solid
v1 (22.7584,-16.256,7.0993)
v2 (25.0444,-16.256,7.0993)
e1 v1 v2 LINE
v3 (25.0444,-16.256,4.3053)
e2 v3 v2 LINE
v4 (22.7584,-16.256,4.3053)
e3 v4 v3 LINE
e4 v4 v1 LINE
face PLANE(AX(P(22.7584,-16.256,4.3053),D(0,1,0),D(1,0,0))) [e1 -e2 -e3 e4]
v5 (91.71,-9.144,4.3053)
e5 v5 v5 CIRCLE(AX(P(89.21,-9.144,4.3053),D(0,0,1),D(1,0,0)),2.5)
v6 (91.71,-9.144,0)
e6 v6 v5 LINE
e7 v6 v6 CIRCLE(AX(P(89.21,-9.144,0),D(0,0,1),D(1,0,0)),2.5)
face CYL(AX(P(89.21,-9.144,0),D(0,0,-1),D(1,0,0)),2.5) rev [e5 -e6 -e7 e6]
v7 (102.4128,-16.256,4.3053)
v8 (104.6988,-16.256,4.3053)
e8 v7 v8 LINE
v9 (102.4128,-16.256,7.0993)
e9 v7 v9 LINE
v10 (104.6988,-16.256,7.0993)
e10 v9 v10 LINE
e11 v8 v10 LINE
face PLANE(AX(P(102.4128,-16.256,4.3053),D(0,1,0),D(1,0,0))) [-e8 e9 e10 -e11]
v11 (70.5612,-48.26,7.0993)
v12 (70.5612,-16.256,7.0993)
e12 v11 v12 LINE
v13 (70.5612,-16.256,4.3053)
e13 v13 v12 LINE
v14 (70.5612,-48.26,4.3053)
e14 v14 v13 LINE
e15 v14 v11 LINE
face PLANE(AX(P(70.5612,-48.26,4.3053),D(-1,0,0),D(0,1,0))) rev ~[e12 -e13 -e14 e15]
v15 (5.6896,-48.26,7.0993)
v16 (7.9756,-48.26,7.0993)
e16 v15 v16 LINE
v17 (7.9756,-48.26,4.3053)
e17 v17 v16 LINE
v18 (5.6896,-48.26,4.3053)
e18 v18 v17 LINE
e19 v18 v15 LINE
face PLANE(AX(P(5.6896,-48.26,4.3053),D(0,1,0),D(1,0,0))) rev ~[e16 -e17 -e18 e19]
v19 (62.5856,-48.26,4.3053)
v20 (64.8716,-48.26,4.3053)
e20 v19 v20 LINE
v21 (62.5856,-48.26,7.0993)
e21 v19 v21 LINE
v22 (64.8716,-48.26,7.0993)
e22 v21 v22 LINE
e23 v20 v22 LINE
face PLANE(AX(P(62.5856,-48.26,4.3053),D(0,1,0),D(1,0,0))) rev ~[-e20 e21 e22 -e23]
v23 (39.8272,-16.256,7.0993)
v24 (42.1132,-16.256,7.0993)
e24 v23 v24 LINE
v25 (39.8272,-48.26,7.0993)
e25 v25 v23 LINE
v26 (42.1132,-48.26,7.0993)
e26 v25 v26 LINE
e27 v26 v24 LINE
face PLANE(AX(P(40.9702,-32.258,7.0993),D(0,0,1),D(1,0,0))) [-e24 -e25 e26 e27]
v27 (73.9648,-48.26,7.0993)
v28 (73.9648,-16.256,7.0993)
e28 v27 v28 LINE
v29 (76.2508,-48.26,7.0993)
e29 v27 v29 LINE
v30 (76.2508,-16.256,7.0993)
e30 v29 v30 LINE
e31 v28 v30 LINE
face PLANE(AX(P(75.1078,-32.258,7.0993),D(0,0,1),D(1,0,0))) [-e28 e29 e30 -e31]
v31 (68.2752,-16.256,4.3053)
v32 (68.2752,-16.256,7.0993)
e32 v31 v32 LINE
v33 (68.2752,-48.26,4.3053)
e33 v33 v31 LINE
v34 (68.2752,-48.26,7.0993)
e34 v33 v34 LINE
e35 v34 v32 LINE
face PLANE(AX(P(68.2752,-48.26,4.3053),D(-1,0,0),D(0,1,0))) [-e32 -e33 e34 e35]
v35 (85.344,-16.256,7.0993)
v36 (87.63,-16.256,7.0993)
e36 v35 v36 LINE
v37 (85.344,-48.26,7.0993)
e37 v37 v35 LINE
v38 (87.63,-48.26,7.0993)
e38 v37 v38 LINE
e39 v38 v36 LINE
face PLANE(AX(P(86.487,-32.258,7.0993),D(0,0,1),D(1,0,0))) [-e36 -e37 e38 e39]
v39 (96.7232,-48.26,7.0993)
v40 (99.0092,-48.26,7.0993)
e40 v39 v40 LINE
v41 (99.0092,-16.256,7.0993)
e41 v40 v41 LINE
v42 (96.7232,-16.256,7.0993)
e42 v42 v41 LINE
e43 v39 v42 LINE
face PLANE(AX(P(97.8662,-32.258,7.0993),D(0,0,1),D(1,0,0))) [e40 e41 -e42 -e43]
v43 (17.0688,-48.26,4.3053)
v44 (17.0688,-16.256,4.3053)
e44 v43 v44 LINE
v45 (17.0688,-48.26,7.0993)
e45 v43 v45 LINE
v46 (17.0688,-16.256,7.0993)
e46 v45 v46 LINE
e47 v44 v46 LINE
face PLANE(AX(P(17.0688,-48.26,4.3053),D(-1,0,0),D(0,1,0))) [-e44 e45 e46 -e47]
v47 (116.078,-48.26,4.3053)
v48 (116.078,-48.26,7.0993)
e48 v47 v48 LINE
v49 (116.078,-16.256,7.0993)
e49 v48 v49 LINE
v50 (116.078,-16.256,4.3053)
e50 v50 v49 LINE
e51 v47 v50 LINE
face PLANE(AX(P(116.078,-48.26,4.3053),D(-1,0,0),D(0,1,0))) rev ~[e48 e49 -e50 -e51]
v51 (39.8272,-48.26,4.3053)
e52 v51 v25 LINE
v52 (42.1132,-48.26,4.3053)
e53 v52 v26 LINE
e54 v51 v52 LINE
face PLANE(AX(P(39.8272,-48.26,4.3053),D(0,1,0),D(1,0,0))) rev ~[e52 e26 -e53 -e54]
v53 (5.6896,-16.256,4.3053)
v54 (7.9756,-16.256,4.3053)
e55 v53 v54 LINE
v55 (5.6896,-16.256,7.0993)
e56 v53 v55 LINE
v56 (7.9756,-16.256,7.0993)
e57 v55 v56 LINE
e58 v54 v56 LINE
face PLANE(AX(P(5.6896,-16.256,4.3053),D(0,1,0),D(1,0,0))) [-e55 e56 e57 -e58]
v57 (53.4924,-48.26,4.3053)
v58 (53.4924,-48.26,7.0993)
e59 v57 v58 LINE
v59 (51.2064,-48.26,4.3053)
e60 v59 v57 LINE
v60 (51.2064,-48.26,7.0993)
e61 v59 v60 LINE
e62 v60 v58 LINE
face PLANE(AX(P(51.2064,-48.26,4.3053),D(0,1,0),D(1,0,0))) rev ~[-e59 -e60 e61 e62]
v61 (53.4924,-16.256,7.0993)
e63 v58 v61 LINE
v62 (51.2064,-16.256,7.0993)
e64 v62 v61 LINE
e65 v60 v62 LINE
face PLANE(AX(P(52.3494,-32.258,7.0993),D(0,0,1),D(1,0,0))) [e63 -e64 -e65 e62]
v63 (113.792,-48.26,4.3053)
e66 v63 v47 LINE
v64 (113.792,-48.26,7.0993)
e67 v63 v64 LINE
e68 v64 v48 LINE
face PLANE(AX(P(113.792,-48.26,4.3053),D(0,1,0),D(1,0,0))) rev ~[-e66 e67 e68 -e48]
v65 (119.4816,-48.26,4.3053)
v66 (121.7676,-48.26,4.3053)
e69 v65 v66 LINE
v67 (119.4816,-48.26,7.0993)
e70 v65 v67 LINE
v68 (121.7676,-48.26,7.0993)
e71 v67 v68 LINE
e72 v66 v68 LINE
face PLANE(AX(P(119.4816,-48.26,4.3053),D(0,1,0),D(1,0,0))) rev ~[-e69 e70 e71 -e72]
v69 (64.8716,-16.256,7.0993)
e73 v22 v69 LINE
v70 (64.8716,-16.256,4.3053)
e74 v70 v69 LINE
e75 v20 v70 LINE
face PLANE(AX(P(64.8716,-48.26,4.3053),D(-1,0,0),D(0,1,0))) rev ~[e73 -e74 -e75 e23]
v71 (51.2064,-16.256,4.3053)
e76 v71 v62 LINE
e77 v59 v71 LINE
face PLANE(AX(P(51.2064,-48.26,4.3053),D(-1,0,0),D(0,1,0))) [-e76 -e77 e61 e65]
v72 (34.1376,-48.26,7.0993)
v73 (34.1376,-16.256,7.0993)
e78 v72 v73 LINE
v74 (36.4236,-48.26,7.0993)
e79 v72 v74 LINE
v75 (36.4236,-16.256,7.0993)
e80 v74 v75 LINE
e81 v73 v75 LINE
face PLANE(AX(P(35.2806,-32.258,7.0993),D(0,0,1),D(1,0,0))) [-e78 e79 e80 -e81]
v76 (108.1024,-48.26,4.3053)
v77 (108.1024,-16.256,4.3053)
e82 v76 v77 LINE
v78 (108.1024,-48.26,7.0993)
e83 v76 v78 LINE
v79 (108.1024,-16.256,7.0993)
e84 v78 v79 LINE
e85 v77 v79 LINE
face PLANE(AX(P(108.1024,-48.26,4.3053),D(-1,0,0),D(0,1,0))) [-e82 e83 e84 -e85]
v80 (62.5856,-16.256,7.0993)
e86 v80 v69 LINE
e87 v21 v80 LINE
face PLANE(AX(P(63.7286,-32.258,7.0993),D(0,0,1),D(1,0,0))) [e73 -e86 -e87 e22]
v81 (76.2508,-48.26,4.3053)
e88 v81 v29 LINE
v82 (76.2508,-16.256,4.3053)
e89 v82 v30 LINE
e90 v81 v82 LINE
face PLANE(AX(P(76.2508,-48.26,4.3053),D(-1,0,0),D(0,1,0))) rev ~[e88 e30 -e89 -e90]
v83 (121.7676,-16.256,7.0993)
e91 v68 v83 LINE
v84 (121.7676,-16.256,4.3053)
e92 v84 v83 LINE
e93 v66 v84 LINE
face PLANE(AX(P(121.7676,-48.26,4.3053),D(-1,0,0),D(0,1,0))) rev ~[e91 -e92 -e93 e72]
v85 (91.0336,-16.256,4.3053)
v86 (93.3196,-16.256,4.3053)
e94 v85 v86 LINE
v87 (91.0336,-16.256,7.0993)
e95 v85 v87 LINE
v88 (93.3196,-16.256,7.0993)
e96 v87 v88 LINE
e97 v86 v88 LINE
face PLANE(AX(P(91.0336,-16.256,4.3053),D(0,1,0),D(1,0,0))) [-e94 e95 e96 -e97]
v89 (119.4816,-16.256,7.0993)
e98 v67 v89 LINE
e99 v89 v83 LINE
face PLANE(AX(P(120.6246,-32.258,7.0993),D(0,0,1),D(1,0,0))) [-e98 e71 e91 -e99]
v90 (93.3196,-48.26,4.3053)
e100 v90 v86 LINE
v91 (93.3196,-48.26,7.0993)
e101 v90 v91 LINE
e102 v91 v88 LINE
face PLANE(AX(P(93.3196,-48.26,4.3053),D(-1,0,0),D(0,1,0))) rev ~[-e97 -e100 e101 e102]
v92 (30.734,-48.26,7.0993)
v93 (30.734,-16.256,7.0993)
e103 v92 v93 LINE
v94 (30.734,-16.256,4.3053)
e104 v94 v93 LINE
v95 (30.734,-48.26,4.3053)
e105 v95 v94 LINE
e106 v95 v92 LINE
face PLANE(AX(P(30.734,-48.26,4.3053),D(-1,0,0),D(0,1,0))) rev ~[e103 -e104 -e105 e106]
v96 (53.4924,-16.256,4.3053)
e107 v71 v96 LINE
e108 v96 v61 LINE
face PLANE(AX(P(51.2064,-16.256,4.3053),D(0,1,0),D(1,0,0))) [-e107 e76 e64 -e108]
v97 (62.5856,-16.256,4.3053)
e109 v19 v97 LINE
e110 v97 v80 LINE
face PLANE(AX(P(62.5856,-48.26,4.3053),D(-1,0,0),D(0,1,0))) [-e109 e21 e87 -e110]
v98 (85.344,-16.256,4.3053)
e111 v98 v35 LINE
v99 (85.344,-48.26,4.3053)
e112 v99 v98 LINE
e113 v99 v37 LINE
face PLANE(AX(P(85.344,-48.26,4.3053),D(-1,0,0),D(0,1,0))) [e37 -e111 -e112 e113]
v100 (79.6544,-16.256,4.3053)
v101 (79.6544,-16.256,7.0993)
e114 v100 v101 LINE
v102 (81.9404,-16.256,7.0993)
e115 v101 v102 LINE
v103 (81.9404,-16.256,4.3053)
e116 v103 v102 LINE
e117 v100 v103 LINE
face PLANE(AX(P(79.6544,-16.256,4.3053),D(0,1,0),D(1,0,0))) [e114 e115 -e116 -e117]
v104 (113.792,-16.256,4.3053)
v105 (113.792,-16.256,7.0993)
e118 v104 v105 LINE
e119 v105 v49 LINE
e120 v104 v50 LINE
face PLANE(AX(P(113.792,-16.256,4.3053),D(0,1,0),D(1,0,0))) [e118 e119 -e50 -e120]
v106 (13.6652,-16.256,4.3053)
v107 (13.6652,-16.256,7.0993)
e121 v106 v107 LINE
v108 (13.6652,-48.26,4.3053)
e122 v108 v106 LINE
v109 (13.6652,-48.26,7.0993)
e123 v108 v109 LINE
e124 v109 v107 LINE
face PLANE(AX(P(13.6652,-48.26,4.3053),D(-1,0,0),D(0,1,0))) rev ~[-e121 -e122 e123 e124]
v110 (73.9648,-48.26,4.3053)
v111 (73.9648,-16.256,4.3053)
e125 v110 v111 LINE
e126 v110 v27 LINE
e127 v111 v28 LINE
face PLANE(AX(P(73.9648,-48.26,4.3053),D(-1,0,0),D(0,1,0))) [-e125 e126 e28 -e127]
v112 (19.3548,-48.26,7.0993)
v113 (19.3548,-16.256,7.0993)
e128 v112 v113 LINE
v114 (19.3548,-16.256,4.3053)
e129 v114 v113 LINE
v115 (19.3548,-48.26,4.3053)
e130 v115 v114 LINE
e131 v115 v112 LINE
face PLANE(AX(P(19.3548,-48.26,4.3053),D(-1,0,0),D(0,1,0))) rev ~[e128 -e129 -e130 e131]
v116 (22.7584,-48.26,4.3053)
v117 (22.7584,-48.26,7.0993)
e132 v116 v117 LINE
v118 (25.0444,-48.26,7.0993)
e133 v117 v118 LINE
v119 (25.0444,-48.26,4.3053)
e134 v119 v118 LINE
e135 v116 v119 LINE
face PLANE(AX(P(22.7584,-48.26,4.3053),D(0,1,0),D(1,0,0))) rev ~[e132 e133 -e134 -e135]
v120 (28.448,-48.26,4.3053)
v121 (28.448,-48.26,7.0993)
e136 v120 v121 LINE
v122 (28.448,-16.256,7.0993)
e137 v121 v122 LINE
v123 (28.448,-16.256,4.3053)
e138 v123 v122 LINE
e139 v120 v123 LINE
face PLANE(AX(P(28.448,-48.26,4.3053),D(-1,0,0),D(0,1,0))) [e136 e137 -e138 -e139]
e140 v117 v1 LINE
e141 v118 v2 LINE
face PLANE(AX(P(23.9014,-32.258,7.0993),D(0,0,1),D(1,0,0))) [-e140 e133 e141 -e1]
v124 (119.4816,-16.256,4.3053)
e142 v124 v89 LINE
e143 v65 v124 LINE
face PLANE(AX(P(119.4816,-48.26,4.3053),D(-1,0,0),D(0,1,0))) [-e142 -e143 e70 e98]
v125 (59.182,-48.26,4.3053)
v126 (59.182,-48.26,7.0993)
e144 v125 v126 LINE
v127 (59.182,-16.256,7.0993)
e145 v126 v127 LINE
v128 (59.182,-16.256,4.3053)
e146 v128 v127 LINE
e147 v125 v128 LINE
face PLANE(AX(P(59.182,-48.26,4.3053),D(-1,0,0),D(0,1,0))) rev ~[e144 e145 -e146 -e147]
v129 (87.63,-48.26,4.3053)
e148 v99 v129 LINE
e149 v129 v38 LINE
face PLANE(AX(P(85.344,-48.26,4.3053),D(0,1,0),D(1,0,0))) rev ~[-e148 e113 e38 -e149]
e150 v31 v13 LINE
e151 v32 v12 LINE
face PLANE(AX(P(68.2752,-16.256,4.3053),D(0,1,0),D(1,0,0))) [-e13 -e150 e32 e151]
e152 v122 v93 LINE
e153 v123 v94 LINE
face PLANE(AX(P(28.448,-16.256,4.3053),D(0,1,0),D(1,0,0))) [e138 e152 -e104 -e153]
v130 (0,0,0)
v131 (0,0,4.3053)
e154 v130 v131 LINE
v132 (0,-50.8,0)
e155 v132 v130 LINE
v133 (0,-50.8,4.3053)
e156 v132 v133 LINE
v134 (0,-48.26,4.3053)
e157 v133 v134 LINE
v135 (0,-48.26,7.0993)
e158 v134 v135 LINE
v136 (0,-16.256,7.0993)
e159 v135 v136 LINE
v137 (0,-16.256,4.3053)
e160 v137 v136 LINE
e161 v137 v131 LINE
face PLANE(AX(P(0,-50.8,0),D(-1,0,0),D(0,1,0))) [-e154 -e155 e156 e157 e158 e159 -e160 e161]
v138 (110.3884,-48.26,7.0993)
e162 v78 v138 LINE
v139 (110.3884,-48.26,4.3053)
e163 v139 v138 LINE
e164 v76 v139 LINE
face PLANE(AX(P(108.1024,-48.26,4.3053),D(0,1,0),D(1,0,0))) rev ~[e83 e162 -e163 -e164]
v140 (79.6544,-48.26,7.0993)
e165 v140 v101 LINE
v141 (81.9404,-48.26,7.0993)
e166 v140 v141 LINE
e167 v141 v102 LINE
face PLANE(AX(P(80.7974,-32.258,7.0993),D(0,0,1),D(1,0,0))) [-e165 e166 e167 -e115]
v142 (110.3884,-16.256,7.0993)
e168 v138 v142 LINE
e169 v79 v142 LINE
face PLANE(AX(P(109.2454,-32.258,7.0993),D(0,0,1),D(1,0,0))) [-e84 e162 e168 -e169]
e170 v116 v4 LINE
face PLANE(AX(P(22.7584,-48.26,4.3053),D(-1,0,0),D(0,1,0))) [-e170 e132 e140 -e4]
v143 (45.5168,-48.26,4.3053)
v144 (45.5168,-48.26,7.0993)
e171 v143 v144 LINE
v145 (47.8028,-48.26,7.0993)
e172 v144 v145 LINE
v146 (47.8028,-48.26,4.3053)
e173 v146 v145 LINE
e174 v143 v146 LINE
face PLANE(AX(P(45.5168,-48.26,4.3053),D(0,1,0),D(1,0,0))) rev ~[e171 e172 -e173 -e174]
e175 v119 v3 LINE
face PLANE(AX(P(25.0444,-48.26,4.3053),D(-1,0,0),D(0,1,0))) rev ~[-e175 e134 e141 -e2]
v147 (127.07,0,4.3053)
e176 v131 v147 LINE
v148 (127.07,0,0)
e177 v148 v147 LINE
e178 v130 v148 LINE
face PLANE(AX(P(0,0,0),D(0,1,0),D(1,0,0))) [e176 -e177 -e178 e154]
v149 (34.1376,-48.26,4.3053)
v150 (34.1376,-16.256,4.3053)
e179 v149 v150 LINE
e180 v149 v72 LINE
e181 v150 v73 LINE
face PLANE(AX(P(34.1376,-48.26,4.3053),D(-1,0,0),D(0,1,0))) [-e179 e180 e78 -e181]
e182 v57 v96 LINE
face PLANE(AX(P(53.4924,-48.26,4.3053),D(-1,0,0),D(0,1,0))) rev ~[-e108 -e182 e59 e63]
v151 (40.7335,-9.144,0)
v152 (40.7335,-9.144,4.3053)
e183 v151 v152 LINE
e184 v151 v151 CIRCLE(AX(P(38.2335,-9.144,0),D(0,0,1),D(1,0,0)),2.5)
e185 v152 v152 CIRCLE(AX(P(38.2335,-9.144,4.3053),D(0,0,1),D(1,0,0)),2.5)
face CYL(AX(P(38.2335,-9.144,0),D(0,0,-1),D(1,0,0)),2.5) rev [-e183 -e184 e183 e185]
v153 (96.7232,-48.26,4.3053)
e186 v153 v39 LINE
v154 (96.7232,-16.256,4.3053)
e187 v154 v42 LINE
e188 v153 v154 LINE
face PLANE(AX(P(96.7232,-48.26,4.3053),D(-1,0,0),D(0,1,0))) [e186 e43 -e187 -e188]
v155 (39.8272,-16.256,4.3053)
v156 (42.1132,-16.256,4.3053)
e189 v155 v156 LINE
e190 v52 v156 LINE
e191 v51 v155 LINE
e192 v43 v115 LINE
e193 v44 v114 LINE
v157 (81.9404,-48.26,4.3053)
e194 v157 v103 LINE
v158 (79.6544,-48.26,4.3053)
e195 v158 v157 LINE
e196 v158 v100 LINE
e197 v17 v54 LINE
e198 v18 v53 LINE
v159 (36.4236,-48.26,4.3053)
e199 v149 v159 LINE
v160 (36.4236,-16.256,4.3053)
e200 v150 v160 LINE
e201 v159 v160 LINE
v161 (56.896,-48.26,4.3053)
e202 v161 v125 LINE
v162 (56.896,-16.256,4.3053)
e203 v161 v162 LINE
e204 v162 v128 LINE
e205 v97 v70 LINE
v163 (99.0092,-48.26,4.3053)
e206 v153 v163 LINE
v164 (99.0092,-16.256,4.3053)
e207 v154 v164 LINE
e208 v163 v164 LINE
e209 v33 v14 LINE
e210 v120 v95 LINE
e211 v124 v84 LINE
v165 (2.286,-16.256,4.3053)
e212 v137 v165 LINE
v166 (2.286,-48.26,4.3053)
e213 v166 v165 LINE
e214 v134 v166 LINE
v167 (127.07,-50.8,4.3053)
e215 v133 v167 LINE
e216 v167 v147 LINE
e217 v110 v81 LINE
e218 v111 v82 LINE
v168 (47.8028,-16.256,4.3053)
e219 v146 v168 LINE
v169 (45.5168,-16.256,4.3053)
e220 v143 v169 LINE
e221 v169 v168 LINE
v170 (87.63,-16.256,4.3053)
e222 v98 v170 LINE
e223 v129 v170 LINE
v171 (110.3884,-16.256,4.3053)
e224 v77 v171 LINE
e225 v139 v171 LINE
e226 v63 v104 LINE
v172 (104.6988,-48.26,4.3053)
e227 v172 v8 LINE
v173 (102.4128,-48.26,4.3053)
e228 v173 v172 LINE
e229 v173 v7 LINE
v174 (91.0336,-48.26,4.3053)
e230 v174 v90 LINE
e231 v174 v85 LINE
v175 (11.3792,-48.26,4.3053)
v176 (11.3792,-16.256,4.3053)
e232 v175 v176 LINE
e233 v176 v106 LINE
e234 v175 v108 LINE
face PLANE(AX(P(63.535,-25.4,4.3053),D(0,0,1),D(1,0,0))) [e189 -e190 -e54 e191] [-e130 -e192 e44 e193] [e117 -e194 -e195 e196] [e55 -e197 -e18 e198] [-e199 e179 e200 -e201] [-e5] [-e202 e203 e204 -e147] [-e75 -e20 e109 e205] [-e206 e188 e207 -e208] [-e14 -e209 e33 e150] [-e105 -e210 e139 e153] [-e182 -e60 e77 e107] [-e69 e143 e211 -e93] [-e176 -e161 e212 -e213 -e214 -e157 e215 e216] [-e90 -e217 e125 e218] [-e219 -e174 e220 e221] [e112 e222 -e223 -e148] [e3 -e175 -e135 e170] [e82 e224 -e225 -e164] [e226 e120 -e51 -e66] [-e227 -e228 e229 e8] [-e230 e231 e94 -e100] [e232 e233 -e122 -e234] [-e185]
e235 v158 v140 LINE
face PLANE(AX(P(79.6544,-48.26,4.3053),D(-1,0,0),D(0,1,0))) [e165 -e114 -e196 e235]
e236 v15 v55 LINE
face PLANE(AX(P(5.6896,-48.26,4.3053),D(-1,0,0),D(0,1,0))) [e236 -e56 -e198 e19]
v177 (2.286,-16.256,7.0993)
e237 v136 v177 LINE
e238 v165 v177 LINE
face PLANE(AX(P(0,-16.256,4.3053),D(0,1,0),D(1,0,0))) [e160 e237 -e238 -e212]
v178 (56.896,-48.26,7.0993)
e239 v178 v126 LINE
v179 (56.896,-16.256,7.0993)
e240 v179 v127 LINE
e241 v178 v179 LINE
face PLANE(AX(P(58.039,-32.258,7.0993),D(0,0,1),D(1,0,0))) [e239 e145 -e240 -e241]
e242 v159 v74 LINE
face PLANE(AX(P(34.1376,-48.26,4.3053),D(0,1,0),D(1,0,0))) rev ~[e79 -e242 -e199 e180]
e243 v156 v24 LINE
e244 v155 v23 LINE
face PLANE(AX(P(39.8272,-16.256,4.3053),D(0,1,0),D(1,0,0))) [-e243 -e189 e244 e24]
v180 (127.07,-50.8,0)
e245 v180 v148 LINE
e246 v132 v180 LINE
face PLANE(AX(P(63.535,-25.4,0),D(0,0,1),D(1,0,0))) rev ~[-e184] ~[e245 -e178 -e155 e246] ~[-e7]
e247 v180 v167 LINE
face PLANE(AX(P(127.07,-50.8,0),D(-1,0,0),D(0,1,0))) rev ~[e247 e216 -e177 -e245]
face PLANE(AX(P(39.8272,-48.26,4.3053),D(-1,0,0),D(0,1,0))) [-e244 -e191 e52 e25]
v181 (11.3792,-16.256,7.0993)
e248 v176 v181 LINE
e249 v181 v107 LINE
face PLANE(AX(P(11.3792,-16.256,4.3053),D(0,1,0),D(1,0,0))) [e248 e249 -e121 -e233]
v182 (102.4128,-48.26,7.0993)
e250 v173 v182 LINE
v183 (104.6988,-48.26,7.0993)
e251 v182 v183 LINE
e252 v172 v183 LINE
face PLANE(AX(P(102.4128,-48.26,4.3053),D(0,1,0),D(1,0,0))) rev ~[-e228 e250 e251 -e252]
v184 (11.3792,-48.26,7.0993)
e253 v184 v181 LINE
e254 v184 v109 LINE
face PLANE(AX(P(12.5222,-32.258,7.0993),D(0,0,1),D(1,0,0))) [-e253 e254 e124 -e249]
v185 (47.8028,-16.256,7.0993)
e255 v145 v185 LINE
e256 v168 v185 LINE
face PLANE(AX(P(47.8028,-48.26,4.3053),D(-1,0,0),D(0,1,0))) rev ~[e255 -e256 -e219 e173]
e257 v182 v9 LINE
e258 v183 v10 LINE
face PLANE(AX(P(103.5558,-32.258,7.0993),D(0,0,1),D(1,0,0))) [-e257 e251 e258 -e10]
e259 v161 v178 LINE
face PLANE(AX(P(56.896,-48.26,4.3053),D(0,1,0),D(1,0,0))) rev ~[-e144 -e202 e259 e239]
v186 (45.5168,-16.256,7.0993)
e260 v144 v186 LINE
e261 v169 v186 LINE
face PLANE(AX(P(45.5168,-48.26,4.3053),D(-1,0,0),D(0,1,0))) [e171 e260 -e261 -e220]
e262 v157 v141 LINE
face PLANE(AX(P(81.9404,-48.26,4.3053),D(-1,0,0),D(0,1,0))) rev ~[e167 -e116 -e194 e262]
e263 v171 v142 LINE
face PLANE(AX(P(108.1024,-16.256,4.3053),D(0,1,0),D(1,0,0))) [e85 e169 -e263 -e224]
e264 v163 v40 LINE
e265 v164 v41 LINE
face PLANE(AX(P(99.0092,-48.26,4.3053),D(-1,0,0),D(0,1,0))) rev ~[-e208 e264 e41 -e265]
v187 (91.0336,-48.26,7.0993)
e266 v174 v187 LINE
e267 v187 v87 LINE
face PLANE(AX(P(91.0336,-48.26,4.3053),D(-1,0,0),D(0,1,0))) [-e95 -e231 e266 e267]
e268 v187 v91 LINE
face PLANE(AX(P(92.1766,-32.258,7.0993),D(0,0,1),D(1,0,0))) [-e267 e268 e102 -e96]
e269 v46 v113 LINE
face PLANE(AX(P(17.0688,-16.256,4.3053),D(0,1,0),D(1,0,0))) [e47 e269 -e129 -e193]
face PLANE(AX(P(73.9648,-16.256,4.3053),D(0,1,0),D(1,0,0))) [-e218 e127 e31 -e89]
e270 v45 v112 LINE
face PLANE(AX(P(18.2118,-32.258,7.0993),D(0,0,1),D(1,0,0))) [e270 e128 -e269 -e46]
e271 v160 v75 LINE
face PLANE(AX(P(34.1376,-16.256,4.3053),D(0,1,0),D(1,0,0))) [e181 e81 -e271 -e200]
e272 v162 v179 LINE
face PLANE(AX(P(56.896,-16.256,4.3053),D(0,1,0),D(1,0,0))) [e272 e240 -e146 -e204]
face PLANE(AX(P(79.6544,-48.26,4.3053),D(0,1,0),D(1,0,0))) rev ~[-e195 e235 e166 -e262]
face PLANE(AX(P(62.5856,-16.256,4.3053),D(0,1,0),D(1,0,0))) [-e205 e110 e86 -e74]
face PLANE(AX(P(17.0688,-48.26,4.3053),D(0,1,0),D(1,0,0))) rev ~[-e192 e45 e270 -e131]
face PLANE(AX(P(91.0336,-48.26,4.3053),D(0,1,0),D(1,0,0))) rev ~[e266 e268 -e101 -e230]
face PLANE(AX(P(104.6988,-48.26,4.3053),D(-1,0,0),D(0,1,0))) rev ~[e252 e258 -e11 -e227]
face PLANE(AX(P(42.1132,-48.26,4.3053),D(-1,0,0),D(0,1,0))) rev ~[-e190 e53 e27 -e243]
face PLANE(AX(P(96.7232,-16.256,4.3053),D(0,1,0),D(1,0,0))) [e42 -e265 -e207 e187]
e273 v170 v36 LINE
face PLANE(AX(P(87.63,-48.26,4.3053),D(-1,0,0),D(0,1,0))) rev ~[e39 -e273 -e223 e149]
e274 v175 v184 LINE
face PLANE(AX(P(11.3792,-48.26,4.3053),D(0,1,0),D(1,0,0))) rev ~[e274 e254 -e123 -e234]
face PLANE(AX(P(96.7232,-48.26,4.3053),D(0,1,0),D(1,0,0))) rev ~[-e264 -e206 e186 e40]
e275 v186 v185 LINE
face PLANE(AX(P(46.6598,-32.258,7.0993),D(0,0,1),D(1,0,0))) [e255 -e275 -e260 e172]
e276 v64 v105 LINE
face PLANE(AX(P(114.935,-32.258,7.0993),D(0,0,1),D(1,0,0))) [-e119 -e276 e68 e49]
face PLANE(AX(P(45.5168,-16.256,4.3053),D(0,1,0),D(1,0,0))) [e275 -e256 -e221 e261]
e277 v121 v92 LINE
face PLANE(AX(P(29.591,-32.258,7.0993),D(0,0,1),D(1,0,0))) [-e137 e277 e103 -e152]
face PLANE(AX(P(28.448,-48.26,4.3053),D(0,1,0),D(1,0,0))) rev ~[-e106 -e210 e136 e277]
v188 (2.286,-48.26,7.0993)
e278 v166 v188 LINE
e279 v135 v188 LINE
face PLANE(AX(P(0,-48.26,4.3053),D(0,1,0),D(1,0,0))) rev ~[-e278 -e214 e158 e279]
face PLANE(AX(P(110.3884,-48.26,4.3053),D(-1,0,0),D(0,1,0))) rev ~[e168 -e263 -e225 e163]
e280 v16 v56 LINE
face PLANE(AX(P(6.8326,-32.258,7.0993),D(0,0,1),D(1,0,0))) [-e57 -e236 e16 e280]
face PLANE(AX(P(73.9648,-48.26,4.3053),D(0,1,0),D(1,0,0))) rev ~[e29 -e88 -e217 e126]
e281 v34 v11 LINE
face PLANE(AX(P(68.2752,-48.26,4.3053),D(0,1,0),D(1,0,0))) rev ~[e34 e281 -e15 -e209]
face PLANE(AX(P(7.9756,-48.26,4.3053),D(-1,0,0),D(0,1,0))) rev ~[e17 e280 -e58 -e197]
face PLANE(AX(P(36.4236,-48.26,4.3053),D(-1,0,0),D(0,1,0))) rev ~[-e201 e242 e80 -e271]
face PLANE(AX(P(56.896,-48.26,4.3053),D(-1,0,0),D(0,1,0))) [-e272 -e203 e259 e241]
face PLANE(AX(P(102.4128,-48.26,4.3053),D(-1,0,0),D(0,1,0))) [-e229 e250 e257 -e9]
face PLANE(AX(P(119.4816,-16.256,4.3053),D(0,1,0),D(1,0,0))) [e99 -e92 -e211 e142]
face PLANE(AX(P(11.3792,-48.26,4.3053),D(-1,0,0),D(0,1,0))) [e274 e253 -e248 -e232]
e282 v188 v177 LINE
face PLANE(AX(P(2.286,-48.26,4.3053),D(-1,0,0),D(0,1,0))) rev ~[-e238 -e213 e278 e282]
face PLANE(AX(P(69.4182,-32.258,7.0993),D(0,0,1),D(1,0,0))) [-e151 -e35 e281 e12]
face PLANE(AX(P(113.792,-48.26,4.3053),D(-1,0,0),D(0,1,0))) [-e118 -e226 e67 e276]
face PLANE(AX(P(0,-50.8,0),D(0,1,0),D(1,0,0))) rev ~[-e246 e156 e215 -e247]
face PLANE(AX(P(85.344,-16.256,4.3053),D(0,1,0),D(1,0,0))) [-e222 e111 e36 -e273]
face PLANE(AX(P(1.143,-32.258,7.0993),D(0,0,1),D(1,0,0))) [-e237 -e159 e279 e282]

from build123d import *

# Parameters (mm, degrees)
F0_W     = 127.07
F0_H     = 50.8
F0_R     = 2.5
F1_DEPTH = 4.3053
F2_W     = 2.286
F2_H     = 32.004
F3_DEPTH = 2.794


with BuildPart() as f1:
    # F0 (on Top) → F1 (new body)
    with BuildSketch(Plane.XY):
        with Locations((63.535, -25.4)):
            Rectangle(F0_W, F0_H)
        with Locations((38.2335, -9.144)):
            Circle(F0_R, mode=Mode.SUBTRACT)
        with Locations((89.21, -9.144)):
            Circle(F0_R, mode=Mode.SUBTRACT)
    extrude(amount=F1_DEPTH)

    # F2 (on face) → F3 (join)
    with BuildSketch(Plane.XY.offset(4.3053)):
        with Locations((1.143, -32.258)):
            Rectangle(F2_W, F2_H)
        with Locations((6.8326, -32.258)):
            Rectangle(F2_W, F2_H)
        with Locations((12.5222, -32.258)):
            Rectangle(F2_W, F2_H)
        with Locations((18.2118, -32.258)):
            Rectangle(F2_W, F2_H)
        with Locations((23.9014, -32.258)):
            Rectangle(F2_W, F2_H)
        with Locations((29.591, -32.258)):
            Rectangle(F2_W, F2_H)
        with Locations((35.2806, -32.258)):
            Rectangle(F2_W, F2_H)
        with Locations((40.9702, -32.258)):
            Rectangle(F2_W, F2_H)
        with Locations((46.6598, -32.258)):
            Rectangle(F2_W, F2_H)
        with Locations((52.3494, -32.258)):
            Rectangle(F2_W, F2_H)
        with Locations((58.039, -32.258)):
            Rectangle(F2_W, F2_H)
        with Locations((63.7286, -32.258)):
            Rectangle(F2_W, F2_H)
        with Locations((69.4182, -32.258)):
            Rectangle(F2_W, F2_H)
        with Locations((75.1078, -32.258)):
            Rectangle(F2_W, F2_H)
        with Locations((80.7974, -32.258)):
            Rectangle(F2_W, F2_H)
        with Locations((86.487, -32.258)):
            Rectangle(F2_W, F2_H)
        with Locations((92.1766, -32.258)):
            Rectangle(F2_W, F2_H)
        with Locations((97.8662, -32.258)):
            Rectangle(F2_W, F2_H)
        with Locations((103.5558, -32.258)):
            Rectangle(F2_W, F2_H)
        with Locations((109.2454, -32.258)):
            Rectangle(F2_W, F2_H)
        with Locations((114.935, -32.258)):
            Rectangle(F2_W, F2_H)
        with Locations((120.6246, -32.258)):
            Rectangle(F2_W, F2_H)
    extrude(amount=F3_DEPTH)


solid = f1.part
